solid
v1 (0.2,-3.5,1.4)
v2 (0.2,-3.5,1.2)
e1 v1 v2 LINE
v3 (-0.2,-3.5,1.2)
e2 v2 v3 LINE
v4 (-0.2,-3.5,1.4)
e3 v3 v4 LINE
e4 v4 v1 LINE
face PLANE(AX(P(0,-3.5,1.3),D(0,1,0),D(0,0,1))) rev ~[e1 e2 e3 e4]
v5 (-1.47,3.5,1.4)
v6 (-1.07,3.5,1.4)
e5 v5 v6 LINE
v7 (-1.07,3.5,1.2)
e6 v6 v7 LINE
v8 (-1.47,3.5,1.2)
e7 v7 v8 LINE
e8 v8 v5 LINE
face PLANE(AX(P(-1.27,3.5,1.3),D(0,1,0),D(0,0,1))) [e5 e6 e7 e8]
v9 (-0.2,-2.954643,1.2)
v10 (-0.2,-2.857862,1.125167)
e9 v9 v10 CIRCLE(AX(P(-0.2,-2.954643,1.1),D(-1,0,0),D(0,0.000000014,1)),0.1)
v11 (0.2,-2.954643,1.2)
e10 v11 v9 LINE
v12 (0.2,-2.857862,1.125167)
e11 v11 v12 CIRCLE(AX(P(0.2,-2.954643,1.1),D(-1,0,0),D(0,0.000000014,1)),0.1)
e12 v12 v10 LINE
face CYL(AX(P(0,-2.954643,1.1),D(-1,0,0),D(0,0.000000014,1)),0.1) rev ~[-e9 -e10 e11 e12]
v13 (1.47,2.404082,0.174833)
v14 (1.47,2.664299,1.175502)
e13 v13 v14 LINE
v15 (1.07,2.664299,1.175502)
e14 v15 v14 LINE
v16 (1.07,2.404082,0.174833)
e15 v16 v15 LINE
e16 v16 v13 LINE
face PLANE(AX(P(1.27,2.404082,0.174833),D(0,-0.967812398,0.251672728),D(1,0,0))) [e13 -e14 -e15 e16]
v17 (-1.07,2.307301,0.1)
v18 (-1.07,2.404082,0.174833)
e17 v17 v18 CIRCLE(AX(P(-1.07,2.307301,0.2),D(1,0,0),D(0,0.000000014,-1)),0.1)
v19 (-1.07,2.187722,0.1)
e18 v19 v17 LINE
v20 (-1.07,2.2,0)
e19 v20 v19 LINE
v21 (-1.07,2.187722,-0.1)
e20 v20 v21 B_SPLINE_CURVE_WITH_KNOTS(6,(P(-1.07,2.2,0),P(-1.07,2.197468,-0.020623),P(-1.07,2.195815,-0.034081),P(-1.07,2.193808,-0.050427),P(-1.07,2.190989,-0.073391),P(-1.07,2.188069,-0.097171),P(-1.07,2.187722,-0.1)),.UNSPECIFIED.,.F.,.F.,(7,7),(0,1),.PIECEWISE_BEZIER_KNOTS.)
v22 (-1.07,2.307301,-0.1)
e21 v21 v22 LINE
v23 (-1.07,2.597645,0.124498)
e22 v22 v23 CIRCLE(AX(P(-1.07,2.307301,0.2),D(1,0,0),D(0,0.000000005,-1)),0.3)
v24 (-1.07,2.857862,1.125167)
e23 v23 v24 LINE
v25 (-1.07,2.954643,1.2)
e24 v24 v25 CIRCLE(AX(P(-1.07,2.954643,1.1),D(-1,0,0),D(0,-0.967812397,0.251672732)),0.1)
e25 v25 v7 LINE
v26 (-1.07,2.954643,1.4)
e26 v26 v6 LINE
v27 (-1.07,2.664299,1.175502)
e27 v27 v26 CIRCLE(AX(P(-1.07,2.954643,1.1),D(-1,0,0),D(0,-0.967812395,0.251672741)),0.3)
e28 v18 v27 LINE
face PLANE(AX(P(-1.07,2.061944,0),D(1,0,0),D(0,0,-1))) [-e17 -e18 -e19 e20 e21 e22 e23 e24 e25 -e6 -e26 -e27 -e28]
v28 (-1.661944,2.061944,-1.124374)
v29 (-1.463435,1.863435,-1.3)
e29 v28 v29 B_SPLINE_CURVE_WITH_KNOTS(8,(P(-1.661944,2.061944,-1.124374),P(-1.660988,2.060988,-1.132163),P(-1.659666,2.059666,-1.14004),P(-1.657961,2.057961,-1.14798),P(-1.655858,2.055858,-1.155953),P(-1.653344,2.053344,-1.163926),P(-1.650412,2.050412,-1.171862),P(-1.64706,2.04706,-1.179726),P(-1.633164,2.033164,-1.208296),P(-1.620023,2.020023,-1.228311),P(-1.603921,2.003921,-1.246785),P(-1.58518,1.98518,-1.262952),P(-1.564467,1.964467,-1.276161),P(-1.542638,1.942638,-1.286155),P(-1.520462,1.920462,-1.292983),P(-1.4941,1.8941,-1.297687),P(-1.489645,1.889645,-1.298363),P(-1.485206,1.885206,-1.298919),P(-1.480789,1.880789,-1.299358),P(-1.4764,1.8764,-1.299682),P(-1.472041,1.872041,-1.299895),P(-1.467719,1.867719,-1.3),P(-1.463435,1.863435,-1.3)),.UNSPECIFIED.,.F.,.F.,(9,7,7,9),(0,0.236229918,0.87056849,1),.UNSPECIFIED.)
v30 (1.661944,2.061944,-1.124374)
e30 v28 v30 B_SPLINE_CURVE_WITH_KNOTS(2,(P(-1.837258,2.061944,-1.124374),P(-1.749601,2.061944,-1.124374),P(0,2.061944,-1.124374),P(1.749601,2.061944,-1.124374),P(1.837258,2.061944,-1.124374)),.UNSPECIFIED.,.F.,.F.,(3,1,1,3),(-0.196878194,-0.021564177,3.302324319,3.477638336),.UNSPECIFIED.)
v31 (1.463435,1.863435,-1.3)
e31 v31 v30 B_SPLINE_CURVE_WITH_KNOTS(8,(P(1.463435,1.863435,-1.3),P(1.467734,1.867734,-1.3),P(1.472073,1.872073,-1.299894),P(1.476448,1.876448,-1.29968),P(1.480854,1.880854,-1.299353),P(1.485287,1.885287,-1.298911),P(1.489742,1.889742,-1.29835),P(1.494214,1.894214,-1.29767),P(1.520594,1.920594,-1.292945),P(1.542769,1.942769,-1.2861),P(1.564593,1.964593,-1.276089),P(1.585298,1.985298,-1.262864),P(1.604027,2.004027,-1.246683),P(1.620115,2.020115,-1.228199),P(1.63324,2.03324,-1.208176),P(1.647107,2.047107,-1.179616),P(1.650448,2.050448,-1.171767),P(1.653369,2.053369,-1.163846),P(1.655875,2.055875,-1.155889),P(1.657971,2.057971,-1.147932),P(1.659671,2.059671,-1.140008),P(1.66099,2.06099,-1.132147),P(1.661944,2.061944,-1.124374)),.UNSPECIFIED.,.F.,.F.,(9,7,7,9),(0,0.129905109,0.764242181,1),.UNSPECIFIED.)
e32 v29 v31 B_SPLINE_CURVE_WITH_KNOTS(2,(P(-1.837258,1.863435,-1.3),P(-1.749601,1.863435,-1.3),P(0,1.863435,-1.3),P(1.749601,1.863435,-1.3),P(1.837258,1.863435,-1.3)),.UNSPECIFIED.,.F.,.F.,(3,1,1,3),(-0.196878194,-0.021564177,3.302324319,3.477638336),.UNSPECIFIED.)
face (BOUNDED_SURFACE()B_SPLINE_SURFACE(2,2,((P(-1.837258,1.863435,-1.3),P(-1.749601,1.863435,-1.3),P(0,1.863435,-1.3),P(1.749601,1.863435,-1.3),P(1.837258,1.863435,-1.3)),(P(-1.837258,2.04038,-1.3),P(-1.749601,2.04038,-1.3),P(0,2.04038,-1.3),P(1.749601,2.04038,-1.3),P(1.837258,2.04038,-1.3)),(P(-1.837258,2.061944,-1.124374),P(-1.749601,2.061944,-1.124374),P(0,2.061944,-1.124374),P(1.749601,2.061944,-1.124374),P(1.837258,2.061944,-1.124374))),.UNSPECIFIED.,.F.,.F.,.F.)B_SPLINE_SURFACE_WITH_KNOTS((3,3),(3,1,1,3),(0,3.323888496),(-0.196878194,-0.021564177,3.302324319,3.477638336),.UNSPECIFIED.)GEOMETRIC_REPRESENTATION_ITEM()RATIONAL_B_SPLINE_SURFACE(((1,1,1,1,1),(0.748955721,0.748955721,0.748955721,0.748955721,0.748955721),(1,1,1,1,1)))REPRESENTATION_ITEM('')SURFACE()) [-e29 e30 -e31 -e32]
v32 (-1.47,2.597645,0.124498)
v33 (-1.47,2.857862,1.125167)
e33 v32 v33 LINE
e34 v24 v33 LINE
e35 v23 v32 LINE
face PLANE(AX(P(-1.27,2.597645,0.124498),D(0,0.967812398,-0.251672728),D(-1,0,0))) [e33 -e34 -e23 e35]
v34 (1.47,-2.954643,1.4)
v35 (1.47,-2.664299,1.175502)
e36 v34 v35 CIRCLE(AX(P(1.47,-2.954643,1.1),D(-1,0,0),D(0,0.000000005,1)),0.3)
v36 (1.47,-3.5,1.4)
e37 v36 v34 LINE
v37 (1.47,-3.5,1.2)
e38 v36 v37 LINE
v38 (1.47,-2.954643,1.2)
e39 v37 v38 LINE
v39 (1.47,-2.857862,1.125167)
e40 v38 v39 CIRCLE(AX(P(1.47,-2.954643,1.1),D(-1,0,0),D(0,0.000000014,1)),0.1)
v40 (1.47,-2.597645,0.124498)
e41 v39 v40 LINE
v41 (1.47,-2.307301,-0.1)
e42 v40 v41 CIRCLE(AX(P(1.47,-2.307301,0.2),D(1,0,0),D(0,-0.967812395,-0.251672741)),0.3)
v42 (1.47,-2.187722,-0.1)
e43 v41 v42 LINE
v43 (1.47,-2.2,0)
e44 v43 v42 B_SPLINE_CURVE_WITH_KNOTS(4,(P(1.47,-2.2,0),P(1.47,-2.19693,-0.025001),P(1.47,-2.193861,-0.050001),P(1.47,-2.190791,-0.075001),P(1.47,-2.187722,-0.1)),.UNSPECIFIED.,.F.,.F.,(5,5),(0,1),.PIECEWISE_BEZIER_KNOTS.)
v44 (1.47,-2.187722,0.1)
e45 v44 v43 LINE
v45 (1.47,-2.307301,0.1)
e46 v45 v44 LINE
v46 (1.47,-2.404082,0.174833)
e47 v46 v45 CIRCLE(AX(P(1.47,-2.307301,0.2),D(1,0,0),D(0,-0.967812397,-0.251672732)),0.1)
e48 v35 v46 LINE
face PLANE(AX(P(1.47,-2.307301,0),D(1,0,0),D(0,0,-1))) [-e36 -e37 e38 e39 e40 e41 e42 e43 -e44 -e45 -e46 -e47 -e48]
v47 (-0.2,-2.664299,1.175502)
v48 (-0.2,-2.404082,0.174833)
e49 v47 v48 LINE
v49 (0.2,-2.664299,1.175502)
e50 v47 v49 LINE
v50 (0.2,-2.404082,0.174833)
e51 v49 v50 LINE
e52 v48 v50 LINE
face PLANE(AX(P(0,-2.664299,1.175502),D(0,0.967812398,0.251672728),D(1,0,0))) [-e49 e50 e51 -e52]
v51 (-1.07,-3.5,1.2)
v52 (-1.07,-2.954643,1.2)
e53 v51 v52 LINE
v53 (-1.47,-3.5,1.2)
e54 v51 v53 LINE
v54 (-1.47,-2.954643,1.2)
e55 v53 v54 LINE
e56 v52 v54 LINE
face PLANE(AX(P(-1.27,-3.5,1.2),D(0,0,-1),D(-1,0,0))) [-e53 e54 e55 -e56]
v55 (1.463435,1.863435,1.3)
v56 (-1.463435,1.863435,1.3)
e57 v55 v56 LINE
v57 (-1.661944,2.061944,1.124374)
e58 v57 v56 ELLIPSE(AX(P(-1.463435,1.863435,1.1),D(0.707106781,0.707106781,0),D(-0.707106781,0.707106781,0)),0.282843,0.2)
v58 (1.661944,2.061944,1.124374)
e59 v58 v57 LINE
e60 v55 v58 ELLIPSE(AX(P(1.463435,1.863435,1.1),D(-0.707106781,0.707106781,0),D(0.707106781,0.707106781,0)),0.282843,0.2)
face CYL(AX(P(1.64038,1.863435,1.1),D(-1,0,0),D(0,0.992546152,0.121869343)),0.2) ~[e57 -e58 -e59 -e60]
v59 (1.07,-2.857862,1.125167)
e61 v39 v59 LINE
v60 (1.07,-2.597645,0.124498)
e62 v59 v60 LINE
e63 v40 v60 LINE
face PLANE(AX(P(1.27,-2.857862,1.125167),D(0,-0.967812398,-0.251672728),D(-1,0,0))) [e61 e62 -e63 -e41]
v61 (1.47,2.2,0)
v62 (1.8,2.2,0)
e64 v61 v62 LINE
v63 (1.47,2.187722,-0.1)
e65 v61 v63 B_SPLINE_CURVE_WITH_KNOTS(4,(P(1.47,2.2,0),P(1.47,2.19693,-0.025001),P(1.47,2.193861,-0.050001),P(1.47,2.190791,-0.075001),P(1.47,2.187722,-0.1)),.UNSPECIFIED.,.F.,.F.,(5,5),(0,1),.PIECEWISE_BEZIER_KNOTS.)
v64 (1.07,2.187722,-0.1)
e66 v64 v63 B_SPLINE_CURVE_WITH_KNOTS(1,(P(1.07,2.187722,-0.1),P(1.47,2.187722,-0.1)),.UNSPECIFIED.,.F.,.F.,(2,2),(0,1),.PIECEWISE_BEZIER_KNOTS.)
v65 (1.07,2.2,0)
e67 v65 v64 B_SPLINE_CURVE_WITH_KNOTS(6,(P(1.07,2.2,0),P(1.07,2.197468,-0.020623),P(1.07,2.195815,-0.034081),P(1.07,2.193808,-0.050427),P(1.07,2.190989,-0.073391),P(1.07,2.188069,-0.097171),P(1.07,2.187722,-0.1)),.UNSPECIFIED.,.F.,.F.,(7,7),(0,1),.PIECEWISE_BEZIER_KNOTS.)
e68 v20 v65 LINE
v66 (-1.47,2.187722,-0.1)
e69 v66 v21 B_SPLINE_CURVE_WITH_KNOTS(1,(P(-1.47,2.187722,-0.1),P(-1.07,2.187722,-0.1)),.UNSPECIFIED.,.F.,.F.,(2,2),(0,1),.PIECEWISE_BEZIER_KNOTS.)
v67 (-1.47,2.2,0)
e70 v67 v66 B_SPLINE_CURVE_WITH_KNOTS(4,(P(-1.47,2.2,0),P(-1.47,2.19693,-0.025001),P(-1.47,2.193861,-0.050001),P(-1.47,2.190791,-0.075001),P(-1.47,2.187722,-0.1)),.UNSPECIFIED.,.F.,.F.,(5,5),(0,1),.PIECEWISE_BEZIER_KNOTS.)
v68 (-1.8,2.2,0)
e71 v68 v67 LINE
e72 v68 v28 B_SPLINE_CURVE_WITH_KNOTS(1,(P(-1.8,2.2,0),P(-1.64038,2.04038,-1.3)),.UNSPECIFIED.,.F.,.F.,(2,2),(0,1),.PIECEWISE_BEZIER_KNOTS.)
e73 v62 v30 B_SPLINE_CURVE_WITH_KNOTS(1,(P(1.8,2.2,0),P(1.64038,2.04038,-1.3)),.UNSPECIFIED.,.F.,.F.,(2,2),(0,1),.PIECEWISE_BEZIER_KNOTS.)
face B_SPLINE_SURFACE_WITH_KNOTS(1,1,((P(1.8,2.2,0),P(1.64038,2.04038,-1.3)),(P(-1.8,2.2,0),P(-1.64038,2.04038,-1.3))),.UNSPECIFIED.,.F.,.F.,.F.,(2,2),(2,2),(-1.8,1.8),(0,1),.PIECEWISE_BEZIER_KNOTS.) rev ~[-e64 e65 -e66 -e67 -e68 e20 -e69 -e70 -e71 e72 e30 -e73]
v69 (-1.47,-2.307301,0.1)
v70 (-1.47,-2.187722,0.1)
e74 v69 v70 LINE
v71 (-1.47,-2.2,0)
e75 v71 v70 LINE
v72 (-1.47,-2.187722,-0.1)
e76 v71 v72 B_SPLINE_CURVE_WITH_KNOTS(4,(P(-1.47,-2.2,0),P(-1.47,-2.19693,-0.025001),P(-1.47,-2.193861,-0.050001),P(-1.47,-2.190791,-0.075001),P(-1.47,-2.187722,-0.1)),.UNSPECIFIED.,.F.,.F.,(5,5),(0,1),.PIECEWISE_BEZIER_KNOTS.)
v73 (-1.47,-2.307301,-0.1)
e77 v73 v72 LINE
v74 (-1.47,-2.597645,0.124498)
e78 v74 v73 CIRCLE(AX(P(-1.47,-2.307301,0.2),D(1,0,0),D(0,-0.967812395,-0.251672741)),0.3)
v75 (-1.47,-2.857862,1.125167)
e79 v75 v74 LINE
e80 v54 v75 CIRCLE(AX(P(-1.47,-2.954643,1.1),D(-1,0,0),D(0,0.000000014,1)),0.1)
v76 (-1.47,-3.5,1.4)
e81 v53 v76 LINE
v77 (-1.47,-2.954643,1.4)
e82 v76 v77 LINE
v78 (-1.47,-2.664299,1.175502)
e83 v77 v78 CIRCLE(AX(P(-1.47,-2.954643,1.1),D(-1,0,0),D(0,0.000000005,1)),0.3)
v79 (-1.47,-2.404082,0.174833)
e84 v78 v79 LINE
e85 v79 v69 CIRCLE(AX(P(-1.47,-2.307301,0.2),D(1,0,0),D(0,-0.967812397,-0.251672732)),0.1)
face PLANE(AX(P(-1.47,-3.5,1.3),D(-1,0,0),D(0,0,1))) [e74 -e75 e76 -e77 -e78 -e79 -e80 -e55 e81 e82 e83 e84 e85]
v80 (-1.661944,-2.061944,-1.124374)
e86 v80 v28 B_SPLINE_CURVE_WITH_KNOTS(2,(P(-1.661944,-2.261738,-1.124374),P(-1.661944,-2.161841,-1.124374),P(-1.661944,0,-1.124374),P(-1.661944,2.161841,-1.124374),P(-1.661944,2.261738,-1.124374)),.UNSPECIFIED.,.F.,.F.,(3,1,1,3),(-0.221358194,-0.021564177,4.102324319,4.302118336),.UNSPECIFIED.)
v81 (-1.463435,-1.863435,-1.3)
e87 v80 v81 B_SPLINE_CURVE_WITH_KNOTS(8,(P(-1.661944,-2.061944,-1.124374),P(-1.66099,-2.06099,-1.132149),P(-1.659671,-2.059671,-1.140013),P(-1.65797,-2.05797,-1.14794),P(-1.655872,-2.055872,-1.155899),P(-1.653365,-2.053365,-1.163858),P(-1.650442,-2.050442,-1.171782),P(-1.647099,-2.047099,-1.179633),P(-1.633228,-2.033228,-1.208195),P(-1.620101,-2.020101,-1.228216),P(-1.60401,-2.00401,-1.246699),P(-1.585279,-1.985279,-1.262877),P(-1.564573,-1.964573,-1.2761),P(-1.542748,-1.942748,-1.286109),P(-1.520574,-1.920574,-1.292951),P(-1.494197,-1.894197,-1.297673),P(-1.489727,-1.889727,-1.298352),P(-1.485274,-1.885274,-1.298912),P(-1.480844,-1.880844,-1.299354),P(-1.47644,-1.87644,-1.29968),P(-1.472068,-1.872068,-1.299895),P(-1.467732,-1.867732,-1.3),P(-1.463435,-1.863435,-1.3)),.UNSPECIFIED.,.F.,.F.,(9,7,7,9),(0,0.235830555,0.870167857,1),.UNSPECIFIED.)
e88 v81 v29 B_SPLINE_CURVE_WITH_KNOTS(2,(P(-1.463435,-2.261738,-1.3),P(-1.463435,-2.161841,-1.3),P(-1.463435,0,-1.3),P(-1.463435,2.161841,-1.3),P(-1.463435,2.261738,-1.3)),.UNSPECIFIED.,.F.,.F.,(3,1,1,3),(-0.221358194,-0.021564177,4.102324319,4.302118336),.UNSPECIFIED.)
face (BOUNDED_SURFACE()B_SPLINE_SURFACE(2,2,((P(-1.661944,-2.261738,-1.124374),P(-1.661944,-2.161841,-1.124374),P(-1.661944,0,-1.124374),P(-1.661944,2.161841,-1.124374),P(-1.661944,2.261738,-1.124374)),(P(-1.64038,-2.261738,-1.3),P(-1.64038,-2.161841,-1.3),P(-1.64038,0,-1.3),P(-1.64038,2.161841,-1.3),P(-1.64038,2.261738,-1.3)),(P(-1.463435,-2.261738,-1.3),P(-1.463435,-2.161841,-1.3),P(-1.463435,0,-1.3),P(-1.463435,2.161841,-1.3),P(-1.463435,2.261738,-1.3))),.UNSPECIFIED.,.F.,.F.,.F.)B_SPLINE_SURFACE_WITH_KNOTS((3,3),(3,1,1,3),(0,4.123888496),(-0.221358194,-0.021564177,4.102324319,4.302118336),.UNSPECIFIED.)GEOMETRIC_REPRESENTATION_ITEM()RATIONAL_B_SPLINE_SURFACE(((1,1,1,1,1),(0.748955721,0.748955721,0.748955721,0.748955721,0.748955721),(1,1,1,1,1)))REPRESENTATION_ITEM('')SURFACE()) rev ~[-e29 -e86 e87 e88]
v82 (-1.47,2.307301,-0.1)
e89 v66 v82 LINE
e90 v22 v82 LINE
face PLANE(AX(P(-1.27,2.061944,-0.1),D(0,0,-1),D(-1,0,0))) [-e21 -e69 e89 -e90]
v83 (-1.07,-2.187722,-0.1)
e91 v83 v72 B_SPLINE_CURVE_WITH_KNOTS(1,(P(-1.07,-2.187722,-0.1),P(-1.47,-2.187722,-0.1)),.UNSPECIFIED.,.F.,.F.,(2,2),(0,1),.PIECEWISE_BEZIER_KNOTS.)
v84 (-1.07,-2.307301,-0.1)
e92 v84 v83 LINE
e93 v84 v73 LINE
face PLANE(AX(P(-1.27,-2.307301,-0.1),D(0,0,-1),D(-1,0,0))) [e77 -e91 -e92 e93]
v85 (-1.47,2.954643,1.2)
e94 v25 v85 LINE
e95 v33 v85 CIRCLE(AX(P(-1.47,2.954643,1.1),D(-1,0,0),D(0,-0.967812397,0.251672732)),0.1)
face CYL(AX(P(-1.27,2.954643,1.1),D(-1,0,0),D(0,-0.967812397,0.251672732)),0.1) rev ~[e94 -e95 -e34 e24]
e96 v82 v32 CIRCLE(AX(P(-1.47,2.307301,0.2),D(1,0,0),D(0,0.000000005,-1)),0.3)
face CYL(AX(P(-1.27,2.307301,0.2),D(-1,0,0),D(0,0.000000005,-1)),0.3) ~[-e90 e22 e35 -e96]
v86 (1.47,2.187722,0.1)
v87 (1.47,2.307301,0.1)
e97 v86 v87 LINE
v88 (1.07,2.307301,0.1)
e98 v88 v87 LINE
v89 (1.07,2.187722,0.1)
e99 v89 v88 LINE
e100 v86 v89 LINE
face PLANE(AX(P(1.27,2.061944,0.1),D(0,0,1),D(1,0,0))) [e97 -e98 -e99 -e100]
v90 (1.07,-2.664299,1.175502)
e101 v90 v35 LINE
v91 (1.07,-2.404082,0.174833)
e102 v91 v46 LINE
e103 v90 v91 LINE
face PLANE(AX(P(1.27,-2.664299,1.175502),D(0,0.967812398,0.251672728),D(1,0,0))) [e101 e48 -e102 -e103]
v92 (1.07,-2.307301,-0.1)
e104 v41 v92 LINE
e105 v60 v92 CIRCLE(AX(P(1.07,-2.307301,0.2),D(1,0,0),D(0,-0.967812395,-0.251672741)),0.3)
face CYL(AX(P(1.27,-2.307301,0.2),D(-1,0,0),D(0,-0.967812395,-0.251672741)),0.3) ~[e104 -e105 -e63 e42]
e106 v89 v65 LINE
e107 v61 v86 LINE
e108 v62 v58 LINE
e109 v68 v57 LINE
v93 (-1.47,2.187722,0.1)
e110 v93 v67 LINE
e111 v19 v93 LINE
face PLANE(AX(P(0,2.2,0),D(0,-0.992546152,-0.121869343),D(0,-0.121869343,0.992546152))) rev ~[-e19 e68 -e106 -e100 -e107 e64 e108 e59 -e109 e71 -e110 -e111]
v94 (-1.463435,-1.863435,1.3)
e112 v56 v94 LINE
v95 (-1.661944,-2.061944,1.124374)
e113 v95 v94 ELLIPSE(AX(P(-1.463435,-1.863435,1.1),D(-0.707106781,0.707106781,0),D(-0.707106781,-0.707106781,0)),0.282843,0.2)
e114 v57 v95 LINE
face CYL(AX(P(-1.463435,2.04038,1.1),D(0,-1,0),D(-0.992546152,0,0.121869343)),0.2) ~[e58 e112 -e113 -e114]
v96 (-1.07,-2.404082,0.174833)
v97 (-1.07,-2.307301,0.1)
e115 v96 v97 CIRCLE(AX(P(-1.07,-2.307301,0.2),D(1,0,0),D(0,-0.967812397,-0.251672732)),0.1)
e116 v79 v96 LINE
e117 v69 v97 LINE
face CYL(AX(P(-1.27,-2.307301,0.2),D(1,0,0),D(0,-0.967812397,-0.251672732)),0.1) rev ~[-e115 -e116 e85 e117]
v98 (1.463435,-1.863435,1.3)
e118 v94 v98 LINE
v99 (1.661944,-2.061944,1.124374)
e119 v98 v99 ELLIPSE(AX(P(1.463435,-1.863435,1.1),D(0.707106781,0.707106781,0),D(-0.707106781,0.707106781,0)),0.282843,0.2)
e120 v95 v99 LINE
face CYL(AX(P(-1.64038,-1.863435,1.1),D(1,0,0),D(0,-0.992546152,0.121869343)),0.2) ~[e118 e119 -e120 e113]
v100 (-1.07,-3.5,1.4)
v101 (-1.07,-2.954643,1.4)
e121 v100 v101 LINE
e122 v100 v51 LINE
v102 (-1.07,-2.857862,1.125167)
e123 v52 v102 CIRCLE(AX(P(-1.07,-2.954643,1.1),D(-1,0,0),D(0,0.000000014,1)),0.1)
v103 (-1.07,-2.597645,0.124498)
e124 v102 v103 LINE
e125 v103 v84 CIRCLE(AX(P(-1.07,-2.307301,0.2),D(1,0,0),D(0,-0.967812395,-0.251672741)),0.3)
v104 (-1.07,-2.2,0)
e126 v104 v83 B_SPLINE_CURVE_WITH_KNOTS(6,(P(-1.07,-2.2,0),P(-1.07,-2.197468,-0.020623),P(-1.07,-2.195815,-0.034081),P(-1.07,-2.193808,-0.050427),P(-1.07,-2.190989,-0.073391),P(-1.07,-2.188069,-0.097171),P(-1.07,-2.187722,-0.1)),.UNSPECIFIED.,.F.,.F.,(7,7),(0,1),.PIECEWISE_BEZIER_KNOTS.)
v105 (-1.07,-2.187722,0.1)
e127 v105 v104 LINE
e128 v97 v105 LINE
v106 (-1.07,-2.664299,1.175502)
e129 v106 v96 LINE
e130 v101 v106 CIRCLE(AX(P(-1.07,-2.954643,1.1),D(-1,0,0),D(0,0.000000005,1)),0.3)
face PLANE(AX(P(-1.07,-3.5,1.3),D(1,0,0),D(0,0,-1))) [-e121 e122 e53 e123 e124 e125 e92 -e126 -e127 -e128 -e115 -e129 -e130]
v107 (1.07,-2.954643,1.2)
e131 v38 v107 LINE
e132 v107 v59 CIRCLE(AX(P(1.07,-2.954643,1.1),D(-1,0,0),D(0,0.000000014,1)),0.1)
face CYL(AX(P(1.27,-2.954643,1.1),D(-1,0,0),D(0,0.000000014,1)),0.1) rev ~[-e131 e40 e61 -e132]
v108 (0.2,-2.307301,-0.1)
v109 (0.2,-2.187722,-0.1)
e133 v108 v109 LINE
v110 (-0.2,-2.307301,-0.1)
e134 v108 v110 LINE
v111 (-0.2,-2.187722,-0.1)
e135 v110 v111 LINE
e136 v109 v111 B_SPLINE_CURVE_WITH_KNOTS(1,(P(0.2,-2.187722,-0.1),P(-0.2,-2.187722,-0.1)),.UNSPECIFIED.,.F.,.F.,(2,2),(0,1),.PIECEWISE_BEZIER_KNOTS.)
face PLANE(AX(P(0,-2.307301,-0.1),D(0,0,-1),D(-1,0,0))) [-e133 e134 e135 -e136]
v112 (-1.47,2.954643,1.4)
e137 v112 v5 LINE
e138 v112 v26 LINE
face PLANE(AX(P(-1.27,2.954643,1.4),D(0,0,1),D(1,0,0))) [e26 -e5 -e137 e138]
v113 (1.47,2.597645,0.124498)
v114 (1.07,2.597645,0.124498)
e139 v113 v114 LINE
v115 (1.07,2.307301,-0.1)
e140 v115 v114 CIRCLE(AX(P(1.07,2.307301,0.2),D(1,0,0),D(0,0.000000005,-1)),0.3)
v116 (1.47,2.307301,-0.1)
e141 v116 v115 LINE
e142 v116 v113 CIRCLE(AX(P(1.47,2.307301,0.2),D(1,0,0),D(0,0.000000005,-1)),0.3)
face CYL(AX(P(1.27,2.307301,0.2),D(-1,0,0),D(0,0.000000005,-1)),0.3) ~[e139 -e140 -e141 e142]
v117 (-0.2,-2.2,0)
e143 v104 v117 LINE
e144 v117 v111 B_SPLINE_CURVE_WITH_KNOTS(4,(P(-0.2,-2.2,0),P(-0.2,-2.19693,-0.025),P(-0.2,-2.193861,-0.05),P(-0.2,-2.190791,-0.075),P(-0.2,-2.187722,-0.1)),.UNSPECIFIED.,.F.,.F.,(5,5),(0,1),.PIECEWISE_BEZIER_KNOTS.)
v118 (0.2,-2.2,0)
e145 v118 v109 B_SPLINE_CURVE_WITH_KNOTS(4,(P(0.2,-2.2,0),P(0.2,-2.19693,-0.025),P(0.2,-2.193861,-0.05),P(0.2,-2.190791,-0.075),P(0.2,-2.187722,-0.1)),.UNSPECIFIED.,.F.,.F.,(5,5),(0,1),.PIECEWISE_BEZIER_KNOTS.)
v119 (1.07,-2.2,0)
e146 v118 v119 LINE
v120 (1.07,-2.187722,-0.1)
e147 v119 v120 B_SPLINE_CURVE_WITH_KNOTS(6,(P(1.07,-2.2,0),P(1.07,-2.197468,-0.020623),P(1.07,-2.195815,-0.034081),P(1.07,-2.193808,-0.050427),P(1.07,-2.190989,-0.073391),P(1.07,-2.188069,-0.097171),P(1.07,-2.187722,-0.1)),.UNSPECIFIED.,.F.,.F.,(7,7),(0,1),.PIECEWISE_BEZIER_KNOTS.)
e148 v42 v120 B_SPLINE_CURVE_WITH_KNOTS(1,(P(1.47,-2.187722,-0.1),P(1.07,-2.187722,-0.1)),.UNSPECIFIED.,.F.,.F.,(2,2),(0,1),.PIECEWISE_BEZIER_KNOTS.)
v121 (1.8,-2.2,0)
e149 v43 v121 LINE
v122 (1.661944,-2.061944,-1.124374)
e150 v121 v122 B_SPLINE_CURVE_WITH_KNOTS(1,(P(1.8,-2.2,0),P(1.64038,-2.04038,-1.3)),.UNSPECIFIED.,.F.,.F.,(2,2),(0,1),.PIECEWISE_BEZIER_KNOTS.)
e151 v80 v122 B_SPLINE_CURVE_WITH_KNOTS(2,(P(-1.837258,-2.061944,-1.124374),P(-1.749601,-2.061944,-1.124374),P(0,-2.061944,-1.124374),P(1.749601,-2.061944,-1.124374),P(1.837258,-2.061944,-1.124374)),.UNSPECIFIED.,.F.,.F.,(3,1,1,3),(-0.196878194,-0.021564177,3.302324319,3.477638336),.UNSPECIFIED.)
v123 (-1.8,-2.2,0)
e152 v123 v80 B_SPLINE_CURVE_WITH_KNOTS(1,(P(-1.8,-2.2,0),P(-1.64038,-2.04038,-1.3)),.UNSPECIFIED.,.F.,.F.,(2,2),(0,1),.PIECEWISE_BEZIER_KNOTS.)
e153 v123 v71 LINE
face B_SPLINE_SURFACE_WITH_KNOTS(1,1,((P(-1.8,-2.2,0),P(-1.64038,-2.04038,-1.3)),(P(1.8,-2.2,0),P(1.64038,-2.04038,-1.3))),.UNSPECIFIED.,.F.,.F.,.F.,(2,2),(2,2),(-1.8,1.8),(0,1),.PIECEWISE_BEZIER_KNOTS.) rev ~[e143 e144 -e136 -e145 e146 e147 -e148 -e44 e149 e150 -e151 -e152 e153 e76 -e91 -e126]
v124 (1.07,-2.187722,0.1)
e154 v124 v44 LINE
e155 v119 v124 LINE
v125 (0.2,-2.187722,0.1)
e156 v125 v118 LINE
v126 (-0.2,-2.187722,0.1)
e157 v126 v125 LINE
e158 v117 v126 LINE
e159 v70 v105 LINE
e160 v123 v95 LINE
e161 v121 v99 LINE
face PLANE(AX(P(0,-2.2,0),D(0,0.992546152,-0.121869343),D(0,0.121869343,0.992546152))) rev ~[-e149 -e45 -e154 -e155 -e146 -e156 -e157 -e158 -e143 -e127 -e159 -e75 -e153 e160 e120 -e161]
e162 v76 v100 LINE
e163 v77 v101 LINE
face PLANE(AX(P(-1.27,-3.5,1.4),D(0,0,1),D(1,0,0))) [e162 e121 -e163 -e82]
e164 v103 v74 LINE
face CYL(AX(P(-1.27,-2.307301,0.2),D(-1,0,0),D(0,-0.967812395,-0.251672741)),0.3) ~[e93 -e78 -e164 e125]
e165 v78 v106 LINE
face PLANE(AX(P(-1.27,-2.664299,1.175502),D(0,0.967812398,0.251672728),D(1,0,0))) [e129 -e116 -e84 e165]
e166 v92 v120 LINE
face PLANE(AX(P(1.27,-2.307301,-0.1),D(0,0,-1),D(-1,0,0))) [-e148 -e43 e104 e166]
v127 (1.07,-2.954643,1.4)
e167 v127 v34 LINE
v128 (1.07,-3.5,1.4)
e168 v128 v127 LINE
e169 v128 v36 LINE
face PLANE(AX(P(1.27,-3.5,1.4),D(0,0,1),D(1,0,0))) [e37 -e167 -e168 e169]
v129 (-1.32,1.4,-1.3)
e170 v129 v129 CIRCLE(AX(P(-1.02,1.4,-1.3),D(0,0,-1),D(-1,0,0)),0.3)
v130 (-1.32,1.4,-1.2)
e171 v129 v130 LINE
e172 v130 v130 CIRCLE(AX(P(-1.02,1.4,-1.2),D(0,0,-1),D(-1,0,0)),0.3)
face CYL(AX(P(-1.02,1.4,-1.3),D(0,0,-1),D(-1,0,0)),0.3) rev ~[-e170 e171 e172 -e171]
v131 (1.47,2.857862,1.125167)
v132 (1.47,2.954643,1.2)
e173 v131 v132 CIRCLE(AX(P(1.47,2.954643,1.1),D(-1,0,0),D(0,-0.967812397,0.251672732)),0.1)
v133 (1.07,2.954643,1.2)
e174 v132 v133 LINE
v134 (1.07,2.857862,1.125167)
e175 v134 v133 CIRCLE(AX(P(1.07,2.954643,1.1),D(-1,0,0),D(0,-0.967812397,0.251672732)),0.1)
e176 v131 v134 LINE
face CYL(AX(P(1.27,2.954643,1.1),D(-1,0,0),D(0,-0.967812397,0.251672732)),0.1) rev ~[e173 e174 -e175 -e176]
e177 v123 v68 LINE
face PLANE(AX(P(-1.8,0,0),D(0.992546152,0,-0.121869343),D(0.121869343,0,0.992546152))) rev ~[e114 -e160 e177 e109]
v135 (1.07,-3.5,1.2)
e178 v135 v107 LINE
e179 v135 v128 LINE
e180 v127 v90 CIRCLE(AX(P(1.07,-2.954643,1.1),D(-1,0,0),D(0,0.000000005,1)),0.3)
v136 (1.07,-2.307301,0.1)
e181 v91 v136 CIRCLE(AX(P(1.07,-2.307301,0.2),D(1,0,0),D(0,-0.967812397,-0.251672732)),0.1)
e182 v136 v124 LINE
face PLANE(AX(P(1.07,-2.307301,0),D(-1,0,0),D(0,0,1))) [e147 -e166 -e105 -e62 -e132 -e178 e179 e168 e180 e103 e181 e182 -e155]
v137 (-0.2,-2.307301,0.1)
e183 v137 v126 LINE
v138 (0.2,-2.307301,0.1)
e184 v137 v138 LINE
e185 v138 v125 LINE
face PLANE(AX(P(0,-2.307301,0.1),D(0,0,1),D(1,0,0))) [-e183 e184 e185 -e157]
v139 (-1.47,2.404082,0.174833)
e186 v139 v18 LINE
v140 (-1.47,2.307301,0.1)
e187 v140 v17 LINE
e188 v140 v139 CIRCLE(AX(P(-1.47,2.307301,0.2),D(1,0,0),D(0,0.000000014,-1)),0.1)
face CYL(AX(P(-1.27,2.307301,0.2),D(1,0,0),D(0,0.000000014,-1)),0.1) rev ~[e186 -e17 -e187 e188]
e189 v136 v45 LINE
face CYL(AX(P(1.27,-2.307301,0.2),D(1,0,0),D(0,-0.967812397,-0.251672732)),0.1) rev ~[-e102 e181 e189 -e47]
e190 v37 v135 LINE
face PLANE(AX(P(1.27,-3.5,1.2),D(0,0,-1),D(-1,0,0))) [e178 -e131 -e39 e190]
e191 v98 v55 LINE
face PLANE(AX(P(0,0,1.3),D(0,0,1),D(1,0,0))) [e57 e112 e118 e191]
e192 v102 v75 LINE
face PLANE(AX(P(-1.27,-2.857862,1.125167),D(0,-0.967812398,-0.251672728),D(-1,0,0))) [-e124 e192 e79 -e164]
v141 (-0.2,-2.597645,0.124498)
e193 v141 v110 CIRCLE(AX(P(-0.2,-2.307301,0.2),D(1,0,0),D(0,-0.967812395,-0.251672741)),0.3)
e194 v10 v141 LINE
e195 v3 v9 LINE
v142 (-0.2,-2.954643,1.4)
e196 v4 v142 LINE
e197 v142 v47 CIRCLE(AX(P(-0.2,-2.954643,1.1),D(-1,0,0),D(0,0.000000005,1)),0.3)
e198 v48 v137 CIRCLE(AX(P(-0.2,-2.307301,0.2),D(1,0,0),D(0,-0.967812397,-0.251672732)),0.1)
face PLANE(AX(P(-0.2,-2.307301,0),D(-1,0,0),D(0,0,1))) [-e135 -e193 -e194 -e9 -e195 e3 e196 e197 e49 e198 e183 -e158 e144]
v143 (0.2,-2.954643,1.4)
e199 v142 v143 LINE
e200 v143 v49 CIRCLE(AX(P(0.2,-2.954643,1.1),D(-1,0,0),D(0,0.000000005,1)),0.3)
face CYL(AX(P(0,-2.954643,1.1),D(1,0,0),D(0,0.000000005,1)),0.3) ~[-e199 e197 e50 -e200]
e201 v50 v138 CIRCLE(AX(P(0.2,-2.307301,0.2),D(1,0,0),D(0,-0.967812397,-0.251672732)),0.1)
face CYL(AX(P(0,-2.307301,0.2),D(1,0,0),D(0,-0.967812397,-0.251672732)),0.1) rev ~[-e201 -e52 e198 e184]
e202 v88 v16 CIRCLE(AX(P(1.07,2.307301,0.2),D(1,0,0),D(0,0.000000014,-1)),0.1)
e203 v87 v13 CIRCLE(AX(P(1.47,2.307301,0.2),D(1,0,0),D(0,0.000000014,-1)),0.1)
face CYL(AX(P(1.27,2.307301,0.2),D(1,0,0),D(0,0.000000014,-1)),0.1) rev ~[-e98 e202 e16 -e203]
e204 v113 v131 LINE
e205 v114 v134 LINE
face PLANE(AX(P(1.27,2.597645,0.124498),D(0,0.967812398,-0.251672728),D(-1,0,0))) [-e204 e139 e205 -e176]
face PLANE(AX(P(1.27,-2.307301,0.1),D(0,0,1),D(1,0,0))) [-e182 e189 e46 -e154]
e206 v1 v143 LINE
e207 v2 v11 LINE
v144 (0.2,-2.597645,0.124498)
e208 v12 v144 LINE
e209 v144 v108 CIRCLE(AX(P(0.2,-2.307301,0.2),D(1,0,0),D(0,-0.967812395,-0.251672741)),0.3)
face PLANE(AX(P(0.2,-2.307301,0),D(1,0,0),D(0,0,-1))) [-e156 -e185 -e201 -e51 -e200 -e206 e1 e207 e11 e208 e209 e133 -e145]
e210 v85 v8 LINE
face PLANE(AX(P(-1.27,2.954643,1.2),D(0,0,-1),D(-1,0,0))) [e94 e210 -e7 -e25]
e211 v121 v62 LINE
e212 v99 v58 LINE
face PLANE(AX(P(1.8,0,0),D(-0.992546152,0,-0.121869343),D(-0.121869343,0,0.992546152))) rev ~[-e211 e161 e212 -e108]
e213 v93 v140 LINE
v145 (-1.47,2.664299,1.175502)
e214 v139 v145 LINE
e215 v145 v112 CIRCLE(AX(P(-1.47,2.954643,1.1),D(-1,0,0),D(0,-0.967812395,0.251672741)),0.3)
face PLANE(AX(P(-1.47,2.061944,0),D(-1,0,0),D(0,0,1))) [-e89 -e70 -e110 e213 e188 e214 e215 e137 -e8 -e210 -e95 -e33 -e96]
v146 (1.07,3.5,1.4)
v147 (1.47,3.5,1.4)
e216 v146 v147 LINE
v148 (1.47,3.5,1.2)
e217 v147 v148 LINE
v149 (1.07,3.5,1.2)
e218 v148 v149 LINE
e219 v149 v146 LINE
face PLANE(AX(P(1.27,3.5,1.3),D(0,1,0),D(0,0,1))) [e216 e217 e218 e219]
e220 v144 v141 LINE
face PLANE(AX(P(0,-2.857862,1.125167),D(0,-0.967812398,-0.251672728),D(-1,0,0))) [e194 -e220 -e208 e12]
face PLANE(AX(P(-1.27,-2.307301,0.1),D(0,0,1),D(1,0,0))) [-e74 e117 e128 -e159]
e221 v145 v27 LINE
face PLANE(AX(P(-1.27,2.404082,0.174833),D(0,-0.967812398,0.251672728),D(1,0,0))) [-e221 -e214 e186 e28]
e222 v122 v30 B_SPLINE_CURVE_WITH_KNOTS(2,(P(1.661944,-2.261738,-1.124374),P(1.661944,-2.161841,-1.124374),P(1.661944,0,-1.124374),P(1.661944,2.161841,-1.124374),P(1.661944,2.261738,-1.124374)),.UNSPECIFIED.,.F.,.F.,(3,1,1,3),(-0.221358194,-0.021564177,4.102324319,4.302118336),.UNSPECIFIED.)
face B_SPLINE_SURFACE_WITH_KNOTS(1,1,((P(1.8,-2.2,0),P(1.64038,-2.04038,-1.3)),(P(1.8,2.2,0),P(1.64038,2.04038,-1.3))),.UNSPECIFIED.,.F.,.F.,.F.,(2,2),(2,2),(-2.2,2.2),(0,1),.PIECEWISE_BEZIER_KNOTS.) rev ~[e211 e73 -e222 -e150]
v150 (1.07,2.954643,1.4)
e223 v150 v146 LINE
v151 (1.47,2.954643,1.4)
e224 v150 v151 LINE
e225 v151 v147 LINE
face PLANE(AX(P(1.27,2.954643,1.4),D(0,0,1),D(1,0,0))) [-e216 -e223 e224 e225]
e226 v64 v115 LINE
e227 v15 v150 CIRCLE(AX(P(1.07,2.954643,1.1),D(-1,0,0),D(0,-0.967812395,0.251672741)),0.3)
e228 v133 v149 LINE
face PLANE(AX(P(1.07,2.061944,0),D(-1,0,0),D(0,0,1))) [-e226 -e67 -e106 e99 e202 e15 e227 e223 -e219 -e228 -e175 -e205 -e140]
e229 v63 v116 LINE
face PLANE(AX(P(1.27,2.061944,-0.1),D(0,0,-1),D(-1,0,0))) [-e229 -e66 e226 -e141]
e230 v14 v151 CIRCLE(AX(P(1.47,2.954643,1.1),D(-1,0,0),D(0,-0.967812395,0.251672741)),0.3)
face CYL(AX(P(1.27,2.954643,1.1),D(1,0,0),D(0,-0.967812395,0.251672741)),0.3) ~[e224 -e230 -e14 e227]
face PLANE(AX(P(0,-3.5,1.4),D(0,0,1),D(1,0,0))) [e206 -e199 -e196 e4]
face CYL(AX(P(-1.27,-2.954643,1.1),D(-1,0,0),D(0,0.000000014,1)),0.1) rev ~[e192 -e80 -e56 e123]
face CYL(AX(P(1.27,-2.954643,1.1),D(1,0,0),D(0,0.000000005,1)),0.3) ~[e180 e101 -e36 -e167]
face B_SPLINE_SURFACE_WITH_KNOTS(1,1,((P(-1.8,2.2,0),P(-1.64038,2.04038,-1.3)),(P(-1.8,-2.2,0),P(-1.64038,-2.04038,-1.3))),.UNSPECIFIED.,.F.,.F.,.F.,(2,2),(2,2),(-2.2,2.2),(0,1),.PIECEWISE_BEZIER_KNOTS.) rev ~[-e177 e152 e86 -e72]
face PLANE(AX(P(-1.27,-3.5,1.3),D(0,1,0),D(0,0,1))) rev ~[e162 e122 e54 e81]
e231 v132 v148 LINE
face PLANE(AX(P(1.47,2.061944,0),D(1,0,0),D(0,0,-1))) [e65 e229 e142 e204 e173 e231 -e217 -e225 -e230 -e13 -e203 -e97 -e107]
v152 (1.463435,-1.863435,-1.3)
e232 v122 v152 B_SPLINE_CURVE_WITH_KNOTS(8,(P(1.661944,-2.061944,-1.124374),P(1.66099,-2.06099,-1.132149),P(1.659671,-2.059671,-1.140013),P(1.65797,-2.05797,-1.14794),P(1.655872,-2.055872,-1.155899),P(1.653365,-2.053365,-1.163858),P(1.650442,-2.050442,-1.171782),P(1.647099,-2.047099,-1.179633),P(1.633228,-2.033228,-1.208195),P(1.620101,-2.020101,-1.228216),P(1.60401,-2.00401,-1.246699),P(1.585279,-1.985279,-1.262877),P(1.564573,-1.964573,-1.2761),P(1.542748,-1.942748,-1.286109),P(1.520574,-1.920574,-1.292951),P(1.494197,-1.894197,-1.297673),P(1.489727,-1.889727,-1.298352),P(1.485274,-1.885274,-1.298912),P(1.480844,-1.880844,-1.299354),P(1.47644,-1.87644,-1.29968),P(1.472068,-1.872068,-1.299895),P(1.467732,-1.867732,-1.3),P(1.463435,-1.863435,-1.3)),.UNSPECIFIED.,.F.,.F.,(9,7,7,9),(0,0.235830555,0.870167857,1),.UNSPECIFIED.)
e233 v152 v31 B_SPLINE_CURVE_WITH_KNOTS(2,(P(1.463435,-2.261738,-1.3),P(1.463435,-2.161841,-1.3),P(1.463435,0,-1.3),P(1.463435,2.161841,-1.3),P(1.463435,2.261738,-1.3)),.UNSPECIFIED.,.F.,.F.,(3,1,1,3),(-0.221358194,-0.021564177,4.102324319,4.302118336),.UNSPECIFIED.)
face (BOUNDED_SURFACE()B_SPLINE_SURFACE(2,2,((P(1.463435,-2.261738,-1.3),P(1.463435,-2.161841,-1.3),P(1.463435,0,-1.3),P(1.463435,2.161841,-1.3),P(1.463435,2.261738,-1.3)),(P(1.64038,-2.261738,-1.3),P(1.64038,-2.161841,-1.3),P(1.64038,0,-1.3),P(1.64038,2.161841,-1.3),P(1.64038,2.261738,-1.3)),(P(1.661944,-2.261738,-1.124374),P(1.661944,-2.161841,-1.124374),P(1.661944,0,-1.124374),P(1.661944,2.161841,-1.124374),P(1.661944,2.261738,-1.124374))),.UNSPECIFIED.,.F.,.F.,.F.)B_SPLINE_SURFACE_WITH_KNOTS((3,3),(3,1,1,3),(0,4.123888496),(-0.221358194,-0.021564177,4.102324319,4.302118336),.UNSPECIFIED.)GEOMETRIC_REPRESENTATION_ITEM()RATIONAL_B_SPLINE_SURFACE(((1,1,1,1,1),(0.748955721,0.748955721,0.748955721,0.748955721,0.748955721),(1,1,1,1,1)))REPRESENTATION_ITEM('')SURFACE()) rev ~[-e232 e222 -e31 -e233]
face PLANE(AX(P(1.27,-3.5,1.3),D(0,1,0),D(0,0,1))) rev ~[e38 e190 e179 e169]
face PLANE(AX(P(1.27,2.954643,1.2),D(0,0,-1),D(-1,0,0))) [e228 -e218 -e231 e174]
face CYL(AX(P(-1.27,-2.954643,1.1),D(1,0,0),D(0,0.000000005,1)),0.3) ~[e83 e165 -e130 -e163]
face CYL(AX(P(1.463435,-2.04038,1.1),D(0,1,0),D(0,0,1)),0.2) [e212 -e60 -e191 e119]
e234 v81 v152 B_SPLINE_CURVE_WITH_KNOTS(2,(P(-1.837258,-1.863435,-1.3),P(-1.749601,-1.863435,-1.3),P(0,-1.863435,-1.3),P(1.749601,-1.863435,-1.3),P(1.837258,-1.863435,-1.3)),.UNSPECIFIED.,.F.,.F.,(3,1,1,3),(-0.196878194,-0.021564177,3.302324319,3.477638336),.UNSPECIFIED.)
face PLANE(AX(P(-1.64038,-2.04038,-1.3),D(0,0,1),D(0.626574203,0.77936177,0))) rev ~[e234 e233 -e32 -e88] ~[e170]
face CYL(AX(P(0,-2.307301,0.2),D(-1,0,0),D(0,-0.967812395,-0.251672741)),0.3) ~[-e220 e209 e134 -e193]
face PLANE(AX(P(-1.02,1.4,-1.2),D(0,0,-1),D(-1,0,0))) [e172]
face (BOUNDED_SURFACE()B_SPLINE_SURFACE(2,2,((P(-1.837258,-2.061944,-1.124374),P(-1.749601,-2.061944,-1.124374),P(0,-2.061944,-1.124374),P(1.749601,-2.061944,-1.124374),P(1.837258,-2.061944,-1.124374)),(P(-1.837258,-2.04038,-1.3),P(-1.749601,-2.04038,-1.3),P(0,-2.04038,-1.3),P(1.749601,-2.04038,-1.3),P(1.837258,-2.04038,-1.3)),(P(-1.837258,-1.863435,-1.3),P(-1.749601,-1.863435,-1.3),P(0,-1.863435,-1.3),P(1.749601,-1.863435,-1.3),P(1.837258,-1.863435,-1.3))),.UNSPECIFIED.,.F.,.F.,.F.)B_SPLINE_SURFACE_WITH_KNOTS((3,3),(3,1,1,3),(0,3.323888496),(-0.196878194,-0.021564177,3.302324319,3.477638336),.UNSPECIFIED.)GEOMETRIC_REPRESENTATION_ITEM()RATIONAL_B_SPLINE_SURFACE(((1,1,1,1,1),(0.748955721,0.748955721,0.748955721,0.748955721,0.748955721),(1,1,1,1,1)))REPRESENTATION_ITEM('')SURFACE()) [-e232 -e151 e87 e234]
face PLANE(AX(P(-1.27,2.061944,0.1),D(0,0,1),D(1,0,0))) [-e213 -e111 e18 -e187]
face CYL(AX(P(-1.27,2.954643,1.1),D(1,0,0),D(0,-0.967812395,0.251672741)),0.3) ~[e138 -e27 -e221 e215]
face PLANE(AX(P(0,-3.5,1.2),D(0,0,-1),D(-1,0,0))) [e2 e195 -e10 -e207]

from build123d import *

# Parameters (mm, degrees)
SKETCH1_W                = 3.6
SKETCH1_H                = 4.4
EXTRUDE1_DEPTH           = 1.3
EXTRUDE1_TAPER           = 7
EXTRUDE1_OTHER_WAY_DEPTH = 1.3
EXTRUDE1_OTHER_WAY_TAPER = 7
FILLET1_R                = 0.2
SKETCH3_W                = 0.4
SKETCH3_H                = 0.2
SKETCH7_R                = 0.3
EXTRUDE2_DEPTH           = 0.1
SKETCH5_W                = 0.4
SKETCH5_H                = 0.2


with BuildPart() as part:
    # Sketch1 → Extrude1 (new body)
    with BuildSketch(Plane.XY):
        Rectangle(SKETCH1_W, SKETCH1_H)
    extrude(amount=EXTRUDE1_DEPTH, taper=EXTRUDE1_TAPER)

    # Sketch1 → Extrude1 other way (add)
    with BuildSketch(Plane.XY):
        Rectangle(SKETCH1_W, SKETCH1_H)
    extrude(amount=-EXTRUDE1_OTHER_WAY_DEPTH, taper=EXTRUDE1_OTHER_WAY_TAPER)

    # Fillet1
    fillet1_edges = [part.edges().sort_by_distance(p)[0] for p in [
        (-1.640380071, 0, -1.3),
        (0, -2.040380071, -1.3),
        (1.640380071, 0, 1.3),
        (0, 2.040380071, 1.3),
        (-1.640380071, 0, 1.3),
        (0, -2.040380071, 1.3),
        (1.640380071, 0, -1.3),
        (0, 2.040380071, -1.3),
    ]]
    fillet(fillet1_edges, radius=FILLET1_R)

    # Sweep4: sweep along a path in Sketch4
    with BuildLine(Plane(origin=(0, 0, 0), x_dir=(0, 0, -1), z_dir=(1, 0, 0))) as sweep4_path:
        Line((0, 2.061944248), (0, 2.307301205))
        ThreePointArc((0, 2.307301205), (-0.04178036, 2.429639038), (-0.149665454, 2.500863685))
        Line((-0.149665454, 2.500863685), (-1.150334546, 2.761080563))
        ThreePointArc((-1.150334546, 2.761080563), (-1.25821964, 2.83230521), (-1.3, 2.954643043))
        Line((-1.3, 2.954643043), (-1.3, 3.5))
    # Sketch3 → Sweep4 (sweep)
    with BuildSketch(Plane(origin=(0, 2.061944248, 0), x_dir=(-1, 0, 0), z_dir=(0, 1, 0))):
        with Locations((1.27, 0)):
            Rectangle(SKETCH3_W, SKETCH3_H)
        with Locations((-1.27, 0)):
            Rectangle(SKETCH3_W, SKETCH3_H)
    sweep(path=sweep4_path.line)

    # Sketch7 → Extrude2 (cut)
    with BuildSketch(Plane(origin=(0, 0, -1.3), x_dir=(-1, 0, 0), z_dir=(0, 0, -1))):
        with Locations((1.02, 1.4)):
            Circle(SKETCH7_R)
    extrude(amount=-EXTRUDE2_DEPTH, mode=Mode.SUBTRACT)

    # Sweep3: sweep along a path in Sketch8
    with BuildLine(Plane(origin=(0, 0, 0), x_dir=(0, 0, -1), z_dir=(1, 0, 0))) as sweep3_path:
        Line((-1.3, -3.5), (-1.3, -2.954643043))
        ThreePointArc((-1.3, -2.954643043), (-1.25821964, -2.83230521), (-1.150334546, -2.761080563))
        Line((-1.150334546, -2.761080563), (-0.149665454, -2.500863685))
        ThreePointArc((-0.149665454, -2.500863685), (-0.04178036, -2.429639038), (0, -2.307301205))
        Line((0, -2.307301205), (0, -2.061944248))
    # Sketch5 → Sweep3 (sweep)
    with BuildSketch(Plane(origin=(0, -2.061944248, 0), x_dir=(-1, 0, 0), z_dir=(0, 1, 0))):
        with Locations((1.27, 0)):
            Rectangle(SKETCH5_W, SKETCH5_H)
        Rectangle(SKETCH5_W, SKETCH5_H)
        with Locations((-1.27, 0)):
            Rectangle(SKETCH5_W, SKETCH5_H)
    sweep(path=sweep3_path.line)


solid = part.part
